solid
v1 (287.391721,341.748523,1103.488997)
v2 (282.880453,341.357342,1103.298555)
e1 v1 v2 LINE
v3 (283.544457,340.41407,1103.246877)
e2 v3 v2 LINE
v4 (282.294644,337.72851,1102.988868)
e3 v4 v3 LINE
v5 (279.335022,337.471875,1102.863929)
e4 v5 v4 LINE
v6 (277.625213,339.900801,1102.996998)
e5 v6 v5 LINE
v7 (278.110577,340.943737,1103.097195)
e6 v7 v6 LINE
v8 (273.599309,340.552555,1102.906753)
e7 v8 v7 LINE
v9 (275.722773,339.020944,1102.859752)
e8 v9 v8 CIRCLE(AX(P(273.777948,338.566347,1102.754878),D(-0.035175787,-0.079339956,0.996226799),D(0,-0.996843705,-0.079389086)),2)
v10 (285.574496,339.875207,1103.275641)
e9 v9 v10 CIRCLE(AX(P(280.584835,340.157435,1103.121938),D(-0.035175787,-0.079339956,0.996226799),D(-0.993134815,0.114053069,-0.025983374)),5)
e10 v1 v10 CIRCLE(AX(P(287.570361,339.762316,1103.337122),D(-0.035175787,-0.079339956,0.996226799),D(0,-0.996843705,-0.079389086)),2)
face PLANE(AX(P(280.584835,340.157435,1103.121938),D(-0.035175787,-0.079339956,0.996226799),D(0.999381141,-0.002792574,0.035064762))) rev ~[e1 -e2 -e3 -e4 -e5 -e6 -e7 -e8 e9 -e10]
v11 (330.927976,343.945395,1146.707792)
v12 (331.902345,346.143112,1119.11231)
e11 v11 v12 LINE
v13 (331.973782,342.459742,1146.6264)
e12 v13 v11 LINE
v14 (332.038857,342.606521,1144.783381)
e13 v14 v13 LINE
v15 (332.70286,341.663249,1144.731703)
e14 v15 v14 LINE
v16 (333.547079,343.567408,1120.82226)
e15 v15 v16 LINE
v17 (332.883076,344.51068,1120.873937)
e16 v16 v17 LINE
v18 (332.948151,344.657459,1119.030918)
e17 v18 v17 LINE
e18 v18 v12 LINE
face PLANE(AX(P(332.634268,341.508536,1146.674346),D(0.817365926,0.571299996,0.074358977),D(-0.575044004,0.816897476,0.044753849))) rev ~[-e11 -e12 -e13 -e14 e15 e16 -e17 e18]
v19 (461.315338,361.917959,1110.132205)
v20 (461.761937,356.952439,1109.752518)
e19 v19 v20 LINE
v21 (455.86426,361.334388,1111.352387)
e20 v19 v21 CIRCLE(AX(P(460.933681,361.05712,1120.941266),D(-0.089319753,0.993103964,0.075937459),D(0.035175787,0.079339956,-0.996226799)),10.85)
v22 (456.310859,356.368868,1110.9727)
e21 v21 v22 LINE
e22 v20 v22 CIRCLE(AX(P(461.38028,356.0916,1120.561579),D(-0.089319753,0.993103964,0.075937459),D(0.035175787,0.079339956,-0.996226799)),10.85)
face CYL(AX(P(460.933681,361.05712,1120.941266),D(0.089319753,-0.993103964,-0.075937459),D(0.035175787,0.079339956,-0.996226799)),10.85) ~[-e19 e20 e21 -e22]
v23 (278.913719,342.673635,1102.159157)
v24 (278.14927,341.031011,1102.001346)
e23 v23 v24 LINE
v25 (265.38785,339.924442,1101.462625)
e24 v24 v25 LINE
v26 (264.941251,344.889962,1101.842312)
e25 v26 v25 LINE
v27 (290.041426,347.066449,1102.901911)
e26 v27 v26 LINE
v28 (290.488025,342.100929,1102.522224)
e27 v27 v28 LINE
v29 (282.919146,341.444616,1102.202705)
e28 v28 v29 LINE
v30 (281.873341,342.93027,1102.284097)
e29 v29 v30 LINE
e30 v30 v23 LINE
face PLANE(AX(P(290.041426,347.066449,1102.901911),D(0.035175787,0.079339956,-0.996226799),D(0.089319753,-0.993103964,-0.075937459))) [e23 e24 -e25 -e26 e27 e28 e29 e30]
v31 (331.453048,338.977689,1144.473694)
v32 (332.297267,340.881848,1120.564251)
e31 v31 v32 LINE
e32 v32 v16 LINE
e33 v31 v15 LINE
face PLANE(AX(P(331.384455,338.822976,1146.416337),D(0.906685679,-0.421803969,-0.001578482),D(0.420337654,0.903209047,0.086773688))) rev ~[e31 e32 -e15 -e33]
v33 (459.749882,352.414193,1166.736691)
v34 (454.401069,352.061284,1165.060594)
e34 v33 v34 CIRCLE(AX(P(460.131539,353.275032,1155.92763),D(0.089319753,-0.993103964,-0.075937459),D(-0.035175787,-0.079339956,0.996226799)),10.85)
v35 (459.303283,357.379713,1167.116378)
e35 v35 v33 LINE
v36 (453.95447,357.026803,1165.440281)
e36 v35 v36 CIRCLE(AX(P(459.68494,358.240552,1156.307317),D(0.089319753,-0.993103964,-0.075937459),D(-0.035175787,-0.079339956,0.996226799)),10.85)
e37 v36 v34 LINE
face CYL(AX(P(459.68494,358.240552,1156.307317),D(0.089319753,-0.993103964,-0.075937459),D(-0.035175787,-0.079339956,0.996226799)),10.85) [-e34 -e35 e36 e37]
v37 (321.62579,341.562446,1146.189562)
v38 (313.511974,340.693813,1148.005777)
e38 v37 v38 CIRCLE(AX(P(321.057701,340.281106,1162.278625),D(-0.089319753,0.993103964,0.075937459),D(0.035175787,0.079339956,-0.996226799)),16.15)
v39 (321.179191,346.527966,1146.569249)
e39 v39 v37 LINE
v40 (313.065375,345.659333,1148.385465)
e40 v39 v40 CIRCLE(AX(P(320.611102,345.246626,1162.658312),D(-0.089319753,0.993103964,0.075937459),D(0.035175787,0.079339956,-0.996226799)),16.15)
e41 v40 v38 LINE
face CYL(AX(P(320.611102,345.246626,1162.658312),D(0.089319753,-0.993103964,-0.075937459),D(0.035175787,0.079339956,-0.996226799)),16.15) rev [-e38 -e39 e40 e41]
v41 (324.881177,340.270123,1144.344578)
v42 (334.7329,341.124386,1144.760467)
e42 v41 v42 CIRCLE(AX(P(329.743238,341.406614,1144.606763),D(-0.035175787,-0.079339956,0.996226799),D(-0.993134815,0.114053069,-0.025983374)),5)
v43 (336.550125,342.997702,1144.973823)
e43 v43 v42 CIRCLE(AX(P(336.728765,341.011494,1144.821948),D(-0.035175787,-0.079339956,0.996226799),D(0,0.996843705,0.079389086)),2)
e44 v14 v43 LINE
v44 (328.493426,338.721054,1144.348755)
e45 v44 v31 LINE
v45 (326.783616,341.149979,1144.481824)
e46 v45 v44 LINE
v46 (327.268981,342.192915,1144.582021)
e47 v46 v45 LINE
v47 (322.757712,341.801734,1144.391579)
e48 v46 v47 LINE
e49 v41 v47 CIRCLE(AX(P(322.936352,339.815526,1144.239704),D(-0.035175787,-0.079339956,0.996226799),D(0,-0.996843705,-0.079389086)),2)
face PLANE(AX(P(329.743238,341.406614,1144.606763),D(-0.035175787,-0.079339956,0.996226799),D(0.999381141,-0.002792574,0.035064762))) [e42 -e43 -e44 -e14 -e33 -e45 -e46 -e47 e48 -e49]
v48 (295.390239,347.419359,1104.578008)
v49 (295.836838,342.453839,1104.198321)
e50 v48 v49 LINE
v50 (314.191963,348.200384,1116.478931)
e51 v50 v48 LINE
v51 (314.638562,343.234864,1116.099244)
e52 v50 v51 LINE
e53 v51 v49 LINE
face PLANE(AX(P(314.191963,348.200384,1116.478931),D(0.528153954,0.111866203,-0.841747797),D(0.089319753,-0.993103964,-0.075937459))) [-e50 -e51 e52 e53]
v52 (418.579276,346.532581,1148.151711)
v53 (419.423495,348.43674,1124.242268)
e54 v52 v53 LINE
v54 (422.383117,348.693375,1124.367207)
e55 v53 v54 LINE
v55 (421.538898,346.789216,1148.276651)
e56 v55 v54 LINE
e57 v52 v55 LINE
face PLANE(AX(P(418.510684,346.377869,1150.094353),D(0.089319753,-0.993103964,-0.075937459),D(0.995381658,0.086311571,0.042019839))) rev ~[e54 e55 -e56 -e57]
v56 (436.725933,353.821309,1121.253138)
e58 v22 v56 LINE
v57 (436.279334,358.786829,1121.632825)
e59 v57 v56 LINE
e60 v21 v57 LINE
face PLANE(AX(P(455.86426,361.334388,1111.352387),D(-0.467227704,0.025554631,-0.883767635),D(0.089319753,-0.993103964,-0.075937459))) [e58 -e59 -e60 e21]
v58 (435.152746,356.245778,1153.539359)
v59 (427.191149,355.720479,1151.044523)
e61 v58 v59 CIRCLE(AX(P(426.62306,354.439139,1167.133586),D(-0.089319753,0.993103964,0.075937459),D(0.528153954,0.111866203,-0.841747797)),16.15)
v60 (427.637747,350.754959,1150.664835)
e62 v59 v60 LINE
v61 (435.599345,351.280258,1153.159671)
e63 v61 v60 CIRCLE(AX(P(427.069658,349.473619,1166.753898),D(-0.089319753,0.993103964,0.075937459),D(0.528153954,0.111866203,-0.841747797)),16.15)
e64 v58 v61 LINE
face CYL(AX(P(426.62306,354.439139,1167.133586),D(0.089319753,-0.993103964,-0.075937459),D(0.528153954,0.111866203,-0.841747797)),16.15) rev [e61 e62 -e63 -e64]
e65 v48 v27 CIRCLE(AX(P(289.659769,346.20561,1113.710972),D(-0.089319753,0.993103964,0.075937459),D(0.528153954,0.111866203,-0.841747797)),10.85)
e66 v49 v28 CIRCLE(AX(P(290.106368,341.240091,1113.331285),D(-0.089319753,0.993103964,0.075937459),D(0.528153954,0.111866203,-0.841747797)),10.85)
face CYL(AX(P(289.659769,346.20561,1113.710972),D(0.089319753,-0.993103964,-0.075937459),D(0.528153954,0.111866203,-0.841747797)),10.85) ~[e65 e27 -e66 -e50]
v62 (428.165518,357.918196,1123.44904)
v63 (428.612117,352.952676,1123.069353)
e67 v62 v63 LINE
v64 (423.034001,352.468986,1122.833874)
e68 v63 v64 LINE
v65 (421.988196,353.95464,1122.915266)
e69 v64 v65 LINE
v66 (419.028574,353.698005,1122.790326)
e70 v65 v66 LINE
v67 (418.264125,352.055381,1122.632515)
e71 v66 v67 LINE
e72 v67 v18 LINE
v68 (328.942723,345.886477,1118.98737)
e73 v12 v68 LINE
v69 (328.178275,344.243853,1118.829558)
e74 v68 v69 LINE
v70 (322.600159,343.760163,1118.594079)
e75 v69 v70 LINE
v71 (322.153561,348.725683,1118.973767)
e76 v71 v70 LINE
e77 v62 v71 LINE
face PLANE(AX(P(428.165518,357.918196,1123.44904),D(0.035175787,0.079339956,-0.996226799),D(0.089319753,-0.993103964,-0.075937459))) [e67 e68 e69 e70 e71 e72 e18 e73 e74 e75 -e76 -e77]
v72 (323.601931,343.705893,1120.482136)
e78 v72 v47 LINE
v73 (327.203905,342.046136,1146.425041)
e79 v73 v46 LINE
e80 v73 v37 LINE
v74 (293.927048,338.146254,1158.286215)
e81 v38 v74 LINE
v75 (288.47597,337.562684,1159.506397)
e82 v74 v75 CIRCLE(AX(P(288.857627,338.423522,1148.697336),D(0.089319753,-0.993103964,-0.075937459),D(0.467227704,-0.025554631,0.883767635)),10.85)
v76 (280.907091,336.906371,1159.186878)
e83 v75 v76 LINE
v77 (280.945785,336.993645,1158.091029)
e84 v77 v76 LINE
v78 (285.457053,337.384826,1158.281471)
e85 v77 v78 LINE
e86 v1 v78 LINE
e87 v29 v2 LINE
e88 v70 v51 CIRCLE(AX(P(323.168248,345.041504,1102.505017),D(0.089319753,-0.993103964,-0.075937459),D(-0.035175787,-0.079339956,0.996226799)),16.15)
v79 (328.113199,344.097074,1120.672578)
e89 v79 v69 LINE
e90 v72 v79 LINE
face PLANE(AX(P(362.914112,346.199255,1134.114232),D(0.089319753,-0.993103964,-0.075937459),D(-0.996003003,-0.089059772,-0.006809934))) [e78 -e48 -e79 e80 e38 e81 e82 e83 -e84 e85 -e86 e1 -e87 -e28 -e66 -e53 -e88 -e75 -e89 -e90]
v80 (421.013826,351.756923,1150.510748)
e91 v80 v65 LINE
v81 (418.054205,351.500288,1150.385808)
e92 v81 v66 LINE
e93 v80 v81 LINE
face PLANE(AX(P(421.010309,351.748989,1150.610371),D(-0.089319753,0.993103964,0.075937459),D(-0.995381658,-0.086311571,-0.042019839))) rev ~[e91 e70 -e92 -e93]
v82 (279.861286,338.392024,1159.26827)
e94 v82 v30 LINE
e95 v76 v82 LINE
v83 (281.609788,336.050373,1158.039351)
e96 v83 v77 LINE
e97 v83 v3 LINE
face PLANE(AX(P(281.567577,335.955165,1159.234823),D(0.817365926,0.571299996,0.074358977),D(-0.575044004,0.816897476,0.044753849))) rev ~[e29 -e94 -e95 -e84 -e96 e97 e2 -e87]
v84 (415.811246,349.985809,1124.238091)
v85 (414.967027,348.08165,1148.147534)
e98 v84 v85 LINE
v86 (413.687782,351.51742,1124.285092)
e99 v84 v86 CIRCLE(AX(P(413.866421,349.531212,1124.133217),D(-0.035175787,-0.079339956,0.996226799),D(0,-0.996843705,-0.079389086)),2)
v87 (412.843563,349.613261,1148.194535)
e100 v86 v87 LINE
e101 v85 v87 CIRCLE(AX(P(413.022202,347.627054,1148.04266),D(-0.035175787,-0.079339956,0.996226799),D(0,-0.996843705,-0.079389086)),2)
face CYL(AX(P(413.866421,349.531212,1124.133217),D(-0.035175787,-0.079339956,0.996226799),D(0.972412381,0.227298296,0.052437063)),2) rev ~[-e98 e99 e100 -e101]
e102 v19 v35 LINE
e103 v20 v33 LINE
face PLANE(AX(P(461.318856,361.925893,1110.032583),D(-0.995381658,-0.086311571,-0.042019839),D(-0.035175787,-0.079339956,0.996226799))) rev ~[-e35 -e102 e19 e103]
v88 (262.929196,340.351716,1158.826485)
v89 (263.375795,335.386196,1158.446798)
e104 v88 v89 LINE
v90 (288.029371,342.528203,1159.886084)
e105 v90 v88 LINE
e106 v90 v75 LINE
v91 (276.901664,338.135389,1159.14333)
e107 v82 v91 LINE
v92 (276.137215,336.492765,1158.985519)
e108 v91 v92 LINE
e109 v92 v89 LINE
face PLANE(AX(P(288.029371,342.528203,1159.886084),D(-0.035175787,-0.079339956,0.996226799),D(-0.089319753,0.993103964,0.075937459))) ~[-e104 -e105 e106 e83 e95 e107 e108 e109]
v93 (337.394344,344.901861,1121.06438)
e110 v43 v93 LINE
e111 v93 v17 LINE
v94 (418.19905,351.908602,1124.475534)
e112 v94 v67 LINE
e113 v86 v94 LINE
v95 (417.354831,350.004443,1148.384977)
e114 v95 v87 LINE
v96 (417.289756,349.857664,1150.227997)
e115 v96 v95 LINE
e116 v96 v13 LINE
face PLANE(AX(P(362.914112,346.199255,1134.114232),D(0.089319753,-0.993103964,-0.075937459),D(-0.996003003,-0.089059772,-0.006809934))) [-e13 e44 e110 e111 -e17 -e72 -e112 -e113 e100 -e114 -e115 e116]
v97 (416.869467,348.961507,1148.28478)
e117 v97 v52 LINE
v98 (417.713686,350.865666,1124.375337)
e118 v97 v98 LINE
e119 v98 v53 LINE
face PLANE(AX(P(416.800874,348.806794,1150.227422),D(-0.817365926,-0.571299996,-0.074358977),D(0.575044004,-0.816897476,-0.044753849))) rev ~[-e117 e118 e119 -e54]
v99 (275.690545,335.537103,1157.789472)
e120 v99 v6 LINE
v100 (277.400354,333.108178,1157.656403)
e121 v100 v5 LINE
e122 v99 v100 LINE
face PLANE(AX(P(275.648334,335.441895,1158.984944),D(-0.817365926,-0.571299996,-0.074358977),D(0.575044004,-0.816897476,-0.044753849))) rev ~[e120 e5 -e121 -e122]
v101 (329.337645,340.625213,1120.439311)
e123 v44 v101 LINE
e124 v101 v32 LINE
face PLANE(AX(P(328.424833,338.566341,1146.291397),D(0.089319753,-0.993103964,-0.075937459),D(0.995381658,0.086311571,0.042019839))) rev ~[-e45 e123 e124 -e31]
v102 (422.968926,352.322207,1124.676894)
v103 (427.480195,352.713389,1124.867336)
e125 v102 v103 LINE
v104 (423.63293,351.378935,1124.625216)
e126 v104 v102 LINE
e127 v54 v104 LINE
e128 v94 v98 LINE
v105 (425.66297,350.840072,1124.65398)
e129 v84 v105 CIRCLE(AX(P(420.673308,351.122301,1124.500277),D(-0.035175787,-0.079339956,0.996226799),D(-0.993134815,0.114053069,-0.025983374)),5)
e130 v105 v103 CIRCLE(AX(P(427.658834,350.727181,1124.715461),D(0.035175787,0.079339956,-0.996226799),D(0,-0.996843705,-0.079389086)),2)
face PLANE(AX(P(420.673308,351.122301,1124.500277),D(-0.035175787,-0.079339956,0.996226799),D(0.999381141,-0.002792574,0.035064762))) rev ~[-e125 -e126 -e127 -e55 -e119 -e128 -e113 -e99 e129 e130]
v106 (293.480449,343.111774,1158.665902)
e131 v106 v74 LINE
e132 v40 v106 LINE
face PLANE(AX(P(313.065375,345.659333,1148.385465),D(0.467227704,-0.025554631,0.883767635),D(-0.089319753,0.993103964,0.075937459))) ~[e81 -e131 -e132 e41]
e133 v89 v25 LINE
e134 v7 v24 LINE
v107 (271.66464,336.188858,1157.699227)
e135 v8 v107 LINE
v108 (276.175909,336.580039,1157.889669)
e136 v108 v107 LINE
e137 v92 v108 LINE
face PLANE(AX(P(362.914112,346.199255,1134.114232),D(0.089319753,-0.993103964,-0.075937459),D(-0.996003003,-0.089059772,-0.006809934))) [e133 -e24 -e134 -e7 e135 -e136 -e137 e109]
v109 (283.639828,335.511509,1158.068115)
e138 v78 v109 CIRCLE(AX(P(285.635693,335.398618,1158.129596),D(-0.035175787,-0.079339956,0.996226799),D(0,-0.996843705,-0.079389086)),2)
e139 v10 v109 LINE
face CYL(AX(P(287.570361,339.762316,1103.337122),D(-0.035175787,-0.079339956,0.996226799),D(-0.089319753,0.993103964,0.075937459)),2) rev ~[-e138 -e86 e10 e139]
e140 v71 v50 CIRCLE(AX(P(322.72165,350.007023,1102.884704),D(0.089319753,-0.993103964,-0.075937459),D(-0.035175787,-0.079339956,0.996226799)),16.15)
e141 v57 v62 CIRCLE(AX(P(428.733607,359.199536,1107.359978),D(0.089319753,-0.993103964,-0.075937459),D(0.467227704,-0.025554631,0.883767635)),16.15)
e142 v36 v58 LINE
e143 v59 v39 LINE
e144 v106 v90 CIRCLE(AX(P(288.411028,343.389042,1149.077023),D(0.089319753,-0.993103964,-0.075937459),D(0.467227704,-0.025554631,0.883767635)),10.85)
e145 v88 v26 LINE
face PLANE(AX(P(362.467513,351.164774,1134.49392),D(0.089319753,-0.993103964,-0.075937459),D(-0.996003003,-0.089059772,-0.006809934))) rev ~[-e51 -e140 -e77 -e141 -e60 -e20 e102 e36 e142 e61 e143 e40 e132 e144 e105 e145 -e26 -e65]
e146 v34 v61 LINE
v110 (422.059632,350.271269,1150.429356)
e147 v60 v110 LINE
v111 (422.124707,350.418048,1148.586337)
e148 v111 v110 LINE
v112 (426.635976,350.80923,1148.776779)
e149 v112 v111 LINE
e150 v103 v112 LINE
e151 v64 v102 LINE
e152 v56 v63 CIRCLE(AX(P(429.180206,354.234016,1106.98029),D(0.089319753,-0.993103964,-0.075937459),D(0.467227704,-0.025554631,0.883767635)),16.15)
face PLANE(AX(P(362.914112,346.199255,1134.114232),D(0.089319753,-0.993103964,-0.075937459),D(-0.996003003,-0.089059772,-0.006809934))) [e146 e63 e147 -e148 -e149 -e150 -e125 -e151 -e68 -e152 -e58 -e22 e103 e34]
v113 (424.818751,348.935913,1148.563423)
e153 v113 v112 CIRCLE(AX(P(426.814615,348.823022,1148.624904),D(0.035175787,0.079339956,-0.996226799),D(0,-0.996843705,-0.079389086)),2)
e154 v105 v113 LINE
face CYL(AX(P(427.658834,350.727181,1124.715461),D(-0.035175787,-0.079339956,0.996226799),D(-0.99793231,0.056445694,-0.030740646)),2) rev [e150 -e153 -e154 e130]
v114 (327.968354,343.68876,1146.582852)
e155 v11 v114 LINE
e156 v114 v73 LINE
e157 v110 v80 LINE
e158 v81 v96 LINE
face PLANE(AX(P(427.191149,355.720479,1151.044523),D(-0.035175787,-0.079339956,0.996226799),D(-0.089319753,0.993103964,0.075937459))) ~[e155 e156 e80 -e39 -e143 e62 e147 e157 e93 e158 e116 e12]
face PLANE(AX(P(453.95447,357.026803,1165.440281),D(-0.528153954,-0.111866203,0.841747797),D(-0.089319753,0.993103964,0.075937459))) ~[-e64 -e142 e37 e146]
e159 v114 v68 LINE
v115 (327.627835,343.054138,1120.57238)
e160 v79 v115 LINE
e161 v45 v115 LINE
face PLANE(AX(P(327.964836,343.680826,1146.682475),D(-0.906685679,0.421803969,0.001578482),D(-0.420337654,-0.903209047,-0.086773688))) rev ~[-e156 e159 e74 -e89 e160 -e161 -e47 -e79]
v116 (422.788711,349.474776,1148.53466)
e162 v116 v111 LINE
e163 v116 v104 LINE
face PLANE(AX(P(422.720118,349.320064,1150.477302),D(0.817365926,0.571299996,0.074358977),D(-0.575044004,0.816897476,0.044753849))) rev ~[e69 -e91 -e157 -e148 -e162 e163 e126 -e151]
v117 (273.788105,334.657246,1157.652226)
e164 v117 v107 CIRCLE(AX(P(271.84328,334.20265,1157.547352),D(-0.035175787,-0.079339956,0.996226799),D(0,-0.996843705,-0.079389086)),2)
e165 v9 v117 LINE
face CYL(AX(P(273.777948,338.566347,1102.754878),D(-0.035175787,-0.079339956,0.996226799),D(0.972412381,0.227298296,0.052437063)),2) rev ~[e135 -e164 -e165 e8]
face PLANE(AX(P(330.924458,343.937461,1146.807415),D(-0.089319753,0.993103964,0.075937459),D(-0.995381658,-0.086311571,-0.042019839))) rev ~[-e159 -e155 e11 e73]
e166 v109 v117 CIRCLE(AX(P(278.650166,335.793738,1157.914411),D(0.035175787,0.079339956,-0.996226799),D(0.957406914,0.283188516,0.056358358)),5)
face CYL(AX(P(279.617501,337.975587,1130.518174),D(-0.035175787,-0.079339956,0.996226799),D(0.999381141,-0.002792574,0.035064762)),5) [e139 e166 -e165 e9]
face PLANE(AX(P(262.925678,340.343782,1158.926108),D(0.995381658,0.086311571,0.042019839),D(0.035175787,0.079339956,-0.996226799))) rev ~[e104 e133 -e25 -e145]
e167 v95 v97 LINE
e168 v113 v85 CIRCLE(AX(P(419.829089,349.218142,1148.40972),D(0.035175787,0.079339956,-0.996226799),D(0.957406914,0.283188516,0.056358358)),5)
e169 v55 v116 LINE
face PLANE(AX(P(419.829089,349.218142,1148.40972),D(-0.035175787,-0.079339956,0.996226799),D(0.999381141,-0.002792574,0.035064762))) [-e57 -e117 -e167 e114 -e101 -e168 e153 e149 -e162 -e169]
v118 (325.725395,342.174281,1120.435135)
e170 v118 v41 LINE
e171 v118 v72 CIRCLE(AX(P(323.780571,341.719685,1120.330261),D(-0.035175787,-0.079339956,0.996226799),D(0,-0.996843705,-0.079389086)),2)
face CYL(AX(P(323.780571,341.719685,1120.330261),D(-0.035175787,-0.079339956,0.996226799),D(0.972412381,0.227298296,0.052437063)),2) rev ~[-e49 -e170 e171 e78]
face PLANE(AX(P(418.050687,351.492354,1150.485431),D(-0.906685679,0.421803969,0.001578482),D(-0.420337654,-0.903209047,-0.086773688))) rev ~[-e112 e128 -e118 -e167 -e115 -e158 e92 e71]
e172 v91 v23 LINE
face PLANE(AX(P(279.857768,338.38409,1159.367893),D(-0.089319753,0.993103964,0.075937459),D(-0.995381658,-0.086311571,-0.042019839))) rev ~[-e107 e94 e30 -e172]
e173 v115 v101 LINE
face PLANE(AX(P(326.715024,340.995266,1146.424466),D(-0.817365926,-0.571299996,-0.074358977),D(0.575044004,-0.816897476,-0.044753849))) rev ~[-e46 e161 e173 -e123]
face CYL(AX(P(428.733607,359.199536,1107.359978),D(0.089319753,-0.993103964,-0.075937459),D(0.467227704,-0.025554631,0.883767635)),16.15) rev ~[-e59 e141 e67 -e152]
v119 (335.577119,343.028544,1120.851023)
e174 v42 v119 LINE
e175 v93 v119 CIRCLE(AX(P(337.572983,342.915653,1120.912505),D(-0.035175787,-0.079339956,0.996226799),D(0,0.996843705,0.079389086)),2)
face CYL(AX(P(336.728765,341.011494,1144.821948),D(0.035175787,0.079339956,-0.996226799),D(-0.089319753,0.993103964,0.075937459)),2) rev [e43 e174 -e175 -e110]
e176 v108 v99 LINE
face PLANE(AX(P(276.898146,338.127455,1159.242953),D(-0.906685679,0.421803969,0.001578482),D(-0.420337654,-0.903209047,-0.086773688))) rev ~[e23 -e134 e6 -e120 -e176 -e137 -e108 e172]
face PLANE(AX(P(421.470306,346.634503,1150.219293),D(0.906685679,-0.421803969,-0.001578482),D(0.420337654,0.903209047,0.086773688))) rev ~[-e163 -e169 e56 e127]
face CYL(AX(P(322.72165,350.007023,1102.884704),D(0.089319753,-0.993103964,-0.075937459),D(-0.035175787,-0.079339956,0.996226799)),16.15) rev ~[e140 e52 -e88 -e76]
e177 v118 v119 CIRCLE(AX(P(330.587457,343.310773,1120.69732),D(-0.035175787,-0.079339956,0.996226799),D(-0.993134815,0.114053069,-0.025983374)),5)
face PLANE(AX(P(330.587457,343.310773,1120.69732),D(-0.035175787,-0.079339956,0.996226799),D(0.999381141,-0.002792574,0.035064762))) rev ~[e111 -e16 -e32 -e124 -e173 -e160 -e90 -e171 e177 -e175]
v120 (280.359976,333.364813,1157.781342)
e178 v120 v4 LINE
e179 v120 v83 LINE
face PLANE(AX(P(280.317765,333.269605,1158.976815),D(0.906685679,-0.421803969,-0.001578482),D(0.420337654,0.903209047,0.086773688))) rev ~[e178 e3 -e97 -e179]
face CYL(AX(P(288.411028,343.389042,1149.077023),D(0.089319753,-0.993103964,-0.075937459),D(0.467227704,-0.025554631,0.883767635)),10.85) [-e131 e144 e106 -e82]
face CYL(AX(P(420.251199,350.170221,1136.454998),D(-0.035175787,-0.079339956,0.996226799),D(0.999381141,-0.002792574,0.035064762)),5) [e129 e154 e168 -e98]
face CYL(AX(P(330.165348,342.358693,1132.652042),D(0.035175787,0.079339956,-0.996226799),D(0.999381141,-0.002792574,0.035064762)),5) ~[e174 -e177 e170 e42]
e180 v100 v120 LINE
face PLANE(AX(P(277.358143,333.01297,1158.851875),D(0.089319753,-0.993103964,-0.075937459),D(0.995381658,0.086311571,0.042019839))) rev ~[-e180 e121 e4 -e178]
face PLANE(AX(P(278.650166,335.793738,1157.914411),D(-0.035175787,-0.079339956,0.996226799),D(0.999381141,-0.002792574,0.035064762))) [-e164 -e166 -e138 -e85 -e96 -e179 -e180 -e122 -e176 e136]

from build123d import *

# Parameters (mm, degrees)
EXTRUDE_1_DEPTH     = 5
SKETCH_2_R          = 5.000000000012101
EXTRUDE_3_DEPTH     = 27.5
CUT_EXTRUDE_1_DEPTH = 59.80000000000002
SKETCH_4_R          = 5.0000000000065405
SKETCH_4_R_2        = 5.000000000006525
EXTRUDE_4_DEPTH     = 12
CUT_EXTRUDE_2_DEPTH = 39.00000000000001
FILLET_1_R          = 2


with BuildPart() as part:
    # 草图1 → 凸台-拉伸1 (new body)
    with BuildSketch(Plane(origin=(-35.95282664063733, 399.74242683802464, 30.566209896758863), x_dir=(0.9960030029050825, 0.08905977205298914, 0.006809934355634975), z_dir=(-0.0893197525973871, 0.9931039643902259, 0.07593745919082788))):
        with BuildLine():
            Line((300.07791562372654, -1129.6042951871439), (302.10510848643986, -1072.2401034897346))
            Line((302.10510848643986, -1072.2401034897346), (327.3060115945207, -1073.1306780695022))
            ThreePointArc((327.3060115945207, -1073.1306780695022), (330.1251349541227, -1073.6036481637962), (332.72578534648983, -1074.7901450088955))
            Line((332.72578534648983, -1074.7901450088955), (351.6029613751, -1086.5968806615322))
            ThreePointArc((351.6029613751, -1086.5968806615322), (355.4148735940491, -1088.3359924755819), (359.5470133129178, -1089.029250011054))
            Line((359.5470133129178, -1089.029250011054), (465.98440043114425, -1092.7906402635294))
            ThreePointArc((465.98440043114425, -1092.7906402635294), (470.1551691567732, -1092.390799165044), (474.0803358930331, -1090.9251079426926))
            Line((474.0803358930331, -1090.9251079426926), (493.74385691829394, -1080.480361776527))
            ThreePointArc((493.74385691829394, -1080.480361776527), (496.42177441125835, -1079.4804042136147), (499.26725213995996, -1079.2076154267972))
            Line((499.26725213995996, -1079.2076154267972), (497.24005927724687, -1136.5718071242063))
            ThreePointArc((497.24005927724687, -1136.5718071242063), (494.4209359176449, -1136.0988370299121), (491.8202855252778, -1134.9123401848128))
            Line((491.8202855252778, -1134.9123401848128), (472.9431094966676, -1123.1056045321764))
            ThreePointArc((472.9431094966676, -1123.1056045321764), (469.13119727771857, -1121.3664927181267), (464.9990575588499, -1120.6732351826547))
            Line((464.9990575588499, -1120.6732351826547), (358.5616704406234, -1116.9118449301766))
            ThreePointArc((358.5616704406234, -1116.9118449301766), (354.39090171499237, -1117.3116860286625), (350.4657349787294, -1118.777377251013))
            Line((350.4657349787294, -1118.777377251013), (330.80221395347337, -1129.222123417182))
            ThreePointArc((330.80221395347337, -1129.222123417182), (328.12429646050896, -1130.2220809800938), (325.2788187318076, -1130.494869766911))
            Line((325.2788187318076, -1130.494869766911), (300.07791562372654, -1129.6042951871439))
        make_face()
    extrude(amount=-EXTRUDE_1_DEPTH)

    # 草图2 → 凸台-拉伸3 (add, symmetric)
    with BuildSketch(Plane(origin=(-38.327599823670674, -86.44895602357099, 1085.4904824160742), x_dir=(0.9993811405079088, -0.0027925735986703876, 0.03506476193855483), z_dir=(-0.03517578708588501, -0.07933995566829466, 0.9962267991965693))):
        with Locations((318.1419856303242, 426.65964110326615)):
            Circle(SKETCH_2_R)
    extrude(amount=EXTRUDE_3_DEPTH, both=True)

    # 草图3 → 切除-拉伸1 (cut)
    with BuildSketch(Plane(origin=(-39.33714491302575, -88.72601275125034, 1114.0821915530184), x_dir=(0.9993811405079092, -0.002792573598669658, 0.03506476193854602), z_dir=(-0.03517578708587617, -0.07933995566829388, 0.9962267991965696))):
        Polygon((321.1034402768945, 426.9253847947825), (319.3925721658551, 429.35720790511795), (316.43111751927484, 429.0914642136009), (315.18053098373395, 426.39389741174824), (316.8913990947733, 423.9620743014128), (319.8528537413536, 424.2278179929299), align=None)
    extrude(amount=-CUT_EXTRUDE_1_DEPTH, mode=Mode.SUBTRACT)

    # 草图4 → 凸台-拉伸4 (add, symmetric)
    with BuildSketch(Plane(origin=(-38.327599823670674, -86.44895602357099, 1085.4904824160742), x_dir=(0.9993811405079088, -0.0027925735986703876, 0.03506476193855483), z_dir=(-0.03517578708588501, -0.07933995566829466, 0.9962267991965693))):
        with Locations((368.7211342547294, 431.1983193115499)):
            Circle(SKETCH_4_R)
        with Locations((458.86276991896267, 439.2871046820992)):
            Circle(SKETCH_4_R_2)
    extrude(amount=EXTRUDE_4_DEPTH, both=True)

    # 草图5 → 切除-拉伸2 (cut)
    with BuildSketch(Plane(origin=(-38.81830205352909, -87.55574840514421, 1099.3878462648613), x_dir=(0.9993811405079085, -0.002792573598671172, 0.0350647619385643), z_dir=(-0.035175787085894514, -0.07933995566829542, 0.9962267991965689))):
        Polygon((369.9717207902861, 433.8958861133999), (367.01026614370573, 433.6301424218828), (365.75967960816484, 430.9325756200302), (367.47054771920426, 428.5007525096948), (370.4320023657846, 428.7664962012118), (371.6825889013256, 431.46406300306455), align=None)
        Polygon((460.1133564545191, 441.9846714839496), (457.1519018079389, 441.7189277924325), (455.90131527239805, 439.02136099058004), (457.61218338343764, 436.58953788024445), (460.57363803001766, 436.8552815717618), (461.82422456555855, 439.5528483736145), align=None)
    extrude(amount=-CUT_EXTRUDE_2_DEPTH, mode=Mode.SUBTRACT)

    # 圆角1
    fillet_1_edges = [part.edges().sort_by_distance(p)[0] for p in [
        (415.285524437343, 350.7404864262651, 1136.3250812261313),
        (425.0382330865837, 351.5861636609777, 1136.7367898828338),
        (325.19967377997307, 342.9289587973129, 1132.5221249504996),
        (334.952382429214, 343.7746360320256, 1132.9338336072021),
        (274.6518265417908, 338.545851989709, 1130.3882576287017),
        (284.4045351910414, 339.3915292244225, 1130.7999662854045),
    ]]
    fillet(fillet_1_edges, radius=FILLET_1_R)

    # 切除-扫描1: sweep along a curve in space
    with BuildLine() as sweep_1_path:
        Line((290.044943776391, 347.0743828700847, 1102.8022885042362), (264.94476860482246, 344.89789554811915, 1101.7426895995065))
        ThreePointArc((295.44305470841834, 347.43054527632216, 1104.493833582377), (292.8527991081144, 347.28939307381154, 1103.2930799825197), (290.044943776391, 347.0743828700847, 1102.8022885042362))
        Line((314.24477871928195, 348.21157078080637, 1116.3947560242318), (295.44305470841834, 347.43054527632216, 1104.493833582377))
        ThreePointArc((322.1570783045824, 348.73361704748316, 1118.8741440154793), (318.0414547361659, 348.4184651050343, 1118.1547647253926), (314.24477871928195, 348.21157078080637, 1116.3947560242318))
        Line((428.16903549570674, 357.926129817856, 1123.34941771218), (322.1570783045824, 348.73361704748316, 1118.8741440154793))
        ThreePointArc((436.23261152707437, 358.7893842711662, 1121.5444481339446), (432.32313367085544, 358.32806229446095, 1122.979143081403), (428.16903549570674, 357.926129817856, 1123.34941771218))
        Line((455.8175375159207, 361.33694338754674, 1111.264010490222), (436.23261152707437, 358.7893842711662, 1121.5444481339446))
        ThreePointArc((461.31885574293176, 361.925892687469, 1110.0325826471264), (458.4847513804454, 361.6516770725888, 1110.2851999185907), (455.8175375159207, 361.33694338754674, 1111.264010490222))
    # 草图8 → 切除-扫描1 (sweep, cut)
    with BuildSketch(Plane(origin=(534.589737117881, 46.35536514533573, 22.567599471235773), x_dir=(0.04186275100976178, 0.0036300044207879887, -0.9991167765310519), z_dir=(0.9953816583596613, 0.08631157133878511, 0.042019838816923734))):
        Polygon((-1088.4263068343075, 320.7205078186499), (-1088.5260175810986, 320.71290735982717), (-1088.145994639964, 315.7273700202607), (-1088.046283893173, 315.7349704790834), align=None)
    sweep_1 = sweep(path=sweep_1_path.line, mode=Mode.SUBTRACT)

    # 镜向2: 切除-扫描1 across plane
    add(sweep_1.mirror(Plane(origin=(-38.327599823670674, -86.44895602357099, 1085.4904824160742), x_dir=(0.9993811405079088, -0.002792573598670388, 0.035064761938554824), z_dir=(-0.035175787085885, -0.07933995566829465, 0.9962267991965692))), mode=Mode.SUBTRACT)

    # 镜向3: part across plane


with BuildPart() as part_1:
    add(part.part)
    add(part.part.mirror(Plane(origin=(-38.327599823670674, -86.44895602357099, 1085.4904824160742), x_dir=(0.9993811405079088, -0.002792573598670388, 0.035064761938554824), z_dir=(-0.035175787085885, -0.07933995566829465, 0.9962267991965692))))


solid = part_1.part
